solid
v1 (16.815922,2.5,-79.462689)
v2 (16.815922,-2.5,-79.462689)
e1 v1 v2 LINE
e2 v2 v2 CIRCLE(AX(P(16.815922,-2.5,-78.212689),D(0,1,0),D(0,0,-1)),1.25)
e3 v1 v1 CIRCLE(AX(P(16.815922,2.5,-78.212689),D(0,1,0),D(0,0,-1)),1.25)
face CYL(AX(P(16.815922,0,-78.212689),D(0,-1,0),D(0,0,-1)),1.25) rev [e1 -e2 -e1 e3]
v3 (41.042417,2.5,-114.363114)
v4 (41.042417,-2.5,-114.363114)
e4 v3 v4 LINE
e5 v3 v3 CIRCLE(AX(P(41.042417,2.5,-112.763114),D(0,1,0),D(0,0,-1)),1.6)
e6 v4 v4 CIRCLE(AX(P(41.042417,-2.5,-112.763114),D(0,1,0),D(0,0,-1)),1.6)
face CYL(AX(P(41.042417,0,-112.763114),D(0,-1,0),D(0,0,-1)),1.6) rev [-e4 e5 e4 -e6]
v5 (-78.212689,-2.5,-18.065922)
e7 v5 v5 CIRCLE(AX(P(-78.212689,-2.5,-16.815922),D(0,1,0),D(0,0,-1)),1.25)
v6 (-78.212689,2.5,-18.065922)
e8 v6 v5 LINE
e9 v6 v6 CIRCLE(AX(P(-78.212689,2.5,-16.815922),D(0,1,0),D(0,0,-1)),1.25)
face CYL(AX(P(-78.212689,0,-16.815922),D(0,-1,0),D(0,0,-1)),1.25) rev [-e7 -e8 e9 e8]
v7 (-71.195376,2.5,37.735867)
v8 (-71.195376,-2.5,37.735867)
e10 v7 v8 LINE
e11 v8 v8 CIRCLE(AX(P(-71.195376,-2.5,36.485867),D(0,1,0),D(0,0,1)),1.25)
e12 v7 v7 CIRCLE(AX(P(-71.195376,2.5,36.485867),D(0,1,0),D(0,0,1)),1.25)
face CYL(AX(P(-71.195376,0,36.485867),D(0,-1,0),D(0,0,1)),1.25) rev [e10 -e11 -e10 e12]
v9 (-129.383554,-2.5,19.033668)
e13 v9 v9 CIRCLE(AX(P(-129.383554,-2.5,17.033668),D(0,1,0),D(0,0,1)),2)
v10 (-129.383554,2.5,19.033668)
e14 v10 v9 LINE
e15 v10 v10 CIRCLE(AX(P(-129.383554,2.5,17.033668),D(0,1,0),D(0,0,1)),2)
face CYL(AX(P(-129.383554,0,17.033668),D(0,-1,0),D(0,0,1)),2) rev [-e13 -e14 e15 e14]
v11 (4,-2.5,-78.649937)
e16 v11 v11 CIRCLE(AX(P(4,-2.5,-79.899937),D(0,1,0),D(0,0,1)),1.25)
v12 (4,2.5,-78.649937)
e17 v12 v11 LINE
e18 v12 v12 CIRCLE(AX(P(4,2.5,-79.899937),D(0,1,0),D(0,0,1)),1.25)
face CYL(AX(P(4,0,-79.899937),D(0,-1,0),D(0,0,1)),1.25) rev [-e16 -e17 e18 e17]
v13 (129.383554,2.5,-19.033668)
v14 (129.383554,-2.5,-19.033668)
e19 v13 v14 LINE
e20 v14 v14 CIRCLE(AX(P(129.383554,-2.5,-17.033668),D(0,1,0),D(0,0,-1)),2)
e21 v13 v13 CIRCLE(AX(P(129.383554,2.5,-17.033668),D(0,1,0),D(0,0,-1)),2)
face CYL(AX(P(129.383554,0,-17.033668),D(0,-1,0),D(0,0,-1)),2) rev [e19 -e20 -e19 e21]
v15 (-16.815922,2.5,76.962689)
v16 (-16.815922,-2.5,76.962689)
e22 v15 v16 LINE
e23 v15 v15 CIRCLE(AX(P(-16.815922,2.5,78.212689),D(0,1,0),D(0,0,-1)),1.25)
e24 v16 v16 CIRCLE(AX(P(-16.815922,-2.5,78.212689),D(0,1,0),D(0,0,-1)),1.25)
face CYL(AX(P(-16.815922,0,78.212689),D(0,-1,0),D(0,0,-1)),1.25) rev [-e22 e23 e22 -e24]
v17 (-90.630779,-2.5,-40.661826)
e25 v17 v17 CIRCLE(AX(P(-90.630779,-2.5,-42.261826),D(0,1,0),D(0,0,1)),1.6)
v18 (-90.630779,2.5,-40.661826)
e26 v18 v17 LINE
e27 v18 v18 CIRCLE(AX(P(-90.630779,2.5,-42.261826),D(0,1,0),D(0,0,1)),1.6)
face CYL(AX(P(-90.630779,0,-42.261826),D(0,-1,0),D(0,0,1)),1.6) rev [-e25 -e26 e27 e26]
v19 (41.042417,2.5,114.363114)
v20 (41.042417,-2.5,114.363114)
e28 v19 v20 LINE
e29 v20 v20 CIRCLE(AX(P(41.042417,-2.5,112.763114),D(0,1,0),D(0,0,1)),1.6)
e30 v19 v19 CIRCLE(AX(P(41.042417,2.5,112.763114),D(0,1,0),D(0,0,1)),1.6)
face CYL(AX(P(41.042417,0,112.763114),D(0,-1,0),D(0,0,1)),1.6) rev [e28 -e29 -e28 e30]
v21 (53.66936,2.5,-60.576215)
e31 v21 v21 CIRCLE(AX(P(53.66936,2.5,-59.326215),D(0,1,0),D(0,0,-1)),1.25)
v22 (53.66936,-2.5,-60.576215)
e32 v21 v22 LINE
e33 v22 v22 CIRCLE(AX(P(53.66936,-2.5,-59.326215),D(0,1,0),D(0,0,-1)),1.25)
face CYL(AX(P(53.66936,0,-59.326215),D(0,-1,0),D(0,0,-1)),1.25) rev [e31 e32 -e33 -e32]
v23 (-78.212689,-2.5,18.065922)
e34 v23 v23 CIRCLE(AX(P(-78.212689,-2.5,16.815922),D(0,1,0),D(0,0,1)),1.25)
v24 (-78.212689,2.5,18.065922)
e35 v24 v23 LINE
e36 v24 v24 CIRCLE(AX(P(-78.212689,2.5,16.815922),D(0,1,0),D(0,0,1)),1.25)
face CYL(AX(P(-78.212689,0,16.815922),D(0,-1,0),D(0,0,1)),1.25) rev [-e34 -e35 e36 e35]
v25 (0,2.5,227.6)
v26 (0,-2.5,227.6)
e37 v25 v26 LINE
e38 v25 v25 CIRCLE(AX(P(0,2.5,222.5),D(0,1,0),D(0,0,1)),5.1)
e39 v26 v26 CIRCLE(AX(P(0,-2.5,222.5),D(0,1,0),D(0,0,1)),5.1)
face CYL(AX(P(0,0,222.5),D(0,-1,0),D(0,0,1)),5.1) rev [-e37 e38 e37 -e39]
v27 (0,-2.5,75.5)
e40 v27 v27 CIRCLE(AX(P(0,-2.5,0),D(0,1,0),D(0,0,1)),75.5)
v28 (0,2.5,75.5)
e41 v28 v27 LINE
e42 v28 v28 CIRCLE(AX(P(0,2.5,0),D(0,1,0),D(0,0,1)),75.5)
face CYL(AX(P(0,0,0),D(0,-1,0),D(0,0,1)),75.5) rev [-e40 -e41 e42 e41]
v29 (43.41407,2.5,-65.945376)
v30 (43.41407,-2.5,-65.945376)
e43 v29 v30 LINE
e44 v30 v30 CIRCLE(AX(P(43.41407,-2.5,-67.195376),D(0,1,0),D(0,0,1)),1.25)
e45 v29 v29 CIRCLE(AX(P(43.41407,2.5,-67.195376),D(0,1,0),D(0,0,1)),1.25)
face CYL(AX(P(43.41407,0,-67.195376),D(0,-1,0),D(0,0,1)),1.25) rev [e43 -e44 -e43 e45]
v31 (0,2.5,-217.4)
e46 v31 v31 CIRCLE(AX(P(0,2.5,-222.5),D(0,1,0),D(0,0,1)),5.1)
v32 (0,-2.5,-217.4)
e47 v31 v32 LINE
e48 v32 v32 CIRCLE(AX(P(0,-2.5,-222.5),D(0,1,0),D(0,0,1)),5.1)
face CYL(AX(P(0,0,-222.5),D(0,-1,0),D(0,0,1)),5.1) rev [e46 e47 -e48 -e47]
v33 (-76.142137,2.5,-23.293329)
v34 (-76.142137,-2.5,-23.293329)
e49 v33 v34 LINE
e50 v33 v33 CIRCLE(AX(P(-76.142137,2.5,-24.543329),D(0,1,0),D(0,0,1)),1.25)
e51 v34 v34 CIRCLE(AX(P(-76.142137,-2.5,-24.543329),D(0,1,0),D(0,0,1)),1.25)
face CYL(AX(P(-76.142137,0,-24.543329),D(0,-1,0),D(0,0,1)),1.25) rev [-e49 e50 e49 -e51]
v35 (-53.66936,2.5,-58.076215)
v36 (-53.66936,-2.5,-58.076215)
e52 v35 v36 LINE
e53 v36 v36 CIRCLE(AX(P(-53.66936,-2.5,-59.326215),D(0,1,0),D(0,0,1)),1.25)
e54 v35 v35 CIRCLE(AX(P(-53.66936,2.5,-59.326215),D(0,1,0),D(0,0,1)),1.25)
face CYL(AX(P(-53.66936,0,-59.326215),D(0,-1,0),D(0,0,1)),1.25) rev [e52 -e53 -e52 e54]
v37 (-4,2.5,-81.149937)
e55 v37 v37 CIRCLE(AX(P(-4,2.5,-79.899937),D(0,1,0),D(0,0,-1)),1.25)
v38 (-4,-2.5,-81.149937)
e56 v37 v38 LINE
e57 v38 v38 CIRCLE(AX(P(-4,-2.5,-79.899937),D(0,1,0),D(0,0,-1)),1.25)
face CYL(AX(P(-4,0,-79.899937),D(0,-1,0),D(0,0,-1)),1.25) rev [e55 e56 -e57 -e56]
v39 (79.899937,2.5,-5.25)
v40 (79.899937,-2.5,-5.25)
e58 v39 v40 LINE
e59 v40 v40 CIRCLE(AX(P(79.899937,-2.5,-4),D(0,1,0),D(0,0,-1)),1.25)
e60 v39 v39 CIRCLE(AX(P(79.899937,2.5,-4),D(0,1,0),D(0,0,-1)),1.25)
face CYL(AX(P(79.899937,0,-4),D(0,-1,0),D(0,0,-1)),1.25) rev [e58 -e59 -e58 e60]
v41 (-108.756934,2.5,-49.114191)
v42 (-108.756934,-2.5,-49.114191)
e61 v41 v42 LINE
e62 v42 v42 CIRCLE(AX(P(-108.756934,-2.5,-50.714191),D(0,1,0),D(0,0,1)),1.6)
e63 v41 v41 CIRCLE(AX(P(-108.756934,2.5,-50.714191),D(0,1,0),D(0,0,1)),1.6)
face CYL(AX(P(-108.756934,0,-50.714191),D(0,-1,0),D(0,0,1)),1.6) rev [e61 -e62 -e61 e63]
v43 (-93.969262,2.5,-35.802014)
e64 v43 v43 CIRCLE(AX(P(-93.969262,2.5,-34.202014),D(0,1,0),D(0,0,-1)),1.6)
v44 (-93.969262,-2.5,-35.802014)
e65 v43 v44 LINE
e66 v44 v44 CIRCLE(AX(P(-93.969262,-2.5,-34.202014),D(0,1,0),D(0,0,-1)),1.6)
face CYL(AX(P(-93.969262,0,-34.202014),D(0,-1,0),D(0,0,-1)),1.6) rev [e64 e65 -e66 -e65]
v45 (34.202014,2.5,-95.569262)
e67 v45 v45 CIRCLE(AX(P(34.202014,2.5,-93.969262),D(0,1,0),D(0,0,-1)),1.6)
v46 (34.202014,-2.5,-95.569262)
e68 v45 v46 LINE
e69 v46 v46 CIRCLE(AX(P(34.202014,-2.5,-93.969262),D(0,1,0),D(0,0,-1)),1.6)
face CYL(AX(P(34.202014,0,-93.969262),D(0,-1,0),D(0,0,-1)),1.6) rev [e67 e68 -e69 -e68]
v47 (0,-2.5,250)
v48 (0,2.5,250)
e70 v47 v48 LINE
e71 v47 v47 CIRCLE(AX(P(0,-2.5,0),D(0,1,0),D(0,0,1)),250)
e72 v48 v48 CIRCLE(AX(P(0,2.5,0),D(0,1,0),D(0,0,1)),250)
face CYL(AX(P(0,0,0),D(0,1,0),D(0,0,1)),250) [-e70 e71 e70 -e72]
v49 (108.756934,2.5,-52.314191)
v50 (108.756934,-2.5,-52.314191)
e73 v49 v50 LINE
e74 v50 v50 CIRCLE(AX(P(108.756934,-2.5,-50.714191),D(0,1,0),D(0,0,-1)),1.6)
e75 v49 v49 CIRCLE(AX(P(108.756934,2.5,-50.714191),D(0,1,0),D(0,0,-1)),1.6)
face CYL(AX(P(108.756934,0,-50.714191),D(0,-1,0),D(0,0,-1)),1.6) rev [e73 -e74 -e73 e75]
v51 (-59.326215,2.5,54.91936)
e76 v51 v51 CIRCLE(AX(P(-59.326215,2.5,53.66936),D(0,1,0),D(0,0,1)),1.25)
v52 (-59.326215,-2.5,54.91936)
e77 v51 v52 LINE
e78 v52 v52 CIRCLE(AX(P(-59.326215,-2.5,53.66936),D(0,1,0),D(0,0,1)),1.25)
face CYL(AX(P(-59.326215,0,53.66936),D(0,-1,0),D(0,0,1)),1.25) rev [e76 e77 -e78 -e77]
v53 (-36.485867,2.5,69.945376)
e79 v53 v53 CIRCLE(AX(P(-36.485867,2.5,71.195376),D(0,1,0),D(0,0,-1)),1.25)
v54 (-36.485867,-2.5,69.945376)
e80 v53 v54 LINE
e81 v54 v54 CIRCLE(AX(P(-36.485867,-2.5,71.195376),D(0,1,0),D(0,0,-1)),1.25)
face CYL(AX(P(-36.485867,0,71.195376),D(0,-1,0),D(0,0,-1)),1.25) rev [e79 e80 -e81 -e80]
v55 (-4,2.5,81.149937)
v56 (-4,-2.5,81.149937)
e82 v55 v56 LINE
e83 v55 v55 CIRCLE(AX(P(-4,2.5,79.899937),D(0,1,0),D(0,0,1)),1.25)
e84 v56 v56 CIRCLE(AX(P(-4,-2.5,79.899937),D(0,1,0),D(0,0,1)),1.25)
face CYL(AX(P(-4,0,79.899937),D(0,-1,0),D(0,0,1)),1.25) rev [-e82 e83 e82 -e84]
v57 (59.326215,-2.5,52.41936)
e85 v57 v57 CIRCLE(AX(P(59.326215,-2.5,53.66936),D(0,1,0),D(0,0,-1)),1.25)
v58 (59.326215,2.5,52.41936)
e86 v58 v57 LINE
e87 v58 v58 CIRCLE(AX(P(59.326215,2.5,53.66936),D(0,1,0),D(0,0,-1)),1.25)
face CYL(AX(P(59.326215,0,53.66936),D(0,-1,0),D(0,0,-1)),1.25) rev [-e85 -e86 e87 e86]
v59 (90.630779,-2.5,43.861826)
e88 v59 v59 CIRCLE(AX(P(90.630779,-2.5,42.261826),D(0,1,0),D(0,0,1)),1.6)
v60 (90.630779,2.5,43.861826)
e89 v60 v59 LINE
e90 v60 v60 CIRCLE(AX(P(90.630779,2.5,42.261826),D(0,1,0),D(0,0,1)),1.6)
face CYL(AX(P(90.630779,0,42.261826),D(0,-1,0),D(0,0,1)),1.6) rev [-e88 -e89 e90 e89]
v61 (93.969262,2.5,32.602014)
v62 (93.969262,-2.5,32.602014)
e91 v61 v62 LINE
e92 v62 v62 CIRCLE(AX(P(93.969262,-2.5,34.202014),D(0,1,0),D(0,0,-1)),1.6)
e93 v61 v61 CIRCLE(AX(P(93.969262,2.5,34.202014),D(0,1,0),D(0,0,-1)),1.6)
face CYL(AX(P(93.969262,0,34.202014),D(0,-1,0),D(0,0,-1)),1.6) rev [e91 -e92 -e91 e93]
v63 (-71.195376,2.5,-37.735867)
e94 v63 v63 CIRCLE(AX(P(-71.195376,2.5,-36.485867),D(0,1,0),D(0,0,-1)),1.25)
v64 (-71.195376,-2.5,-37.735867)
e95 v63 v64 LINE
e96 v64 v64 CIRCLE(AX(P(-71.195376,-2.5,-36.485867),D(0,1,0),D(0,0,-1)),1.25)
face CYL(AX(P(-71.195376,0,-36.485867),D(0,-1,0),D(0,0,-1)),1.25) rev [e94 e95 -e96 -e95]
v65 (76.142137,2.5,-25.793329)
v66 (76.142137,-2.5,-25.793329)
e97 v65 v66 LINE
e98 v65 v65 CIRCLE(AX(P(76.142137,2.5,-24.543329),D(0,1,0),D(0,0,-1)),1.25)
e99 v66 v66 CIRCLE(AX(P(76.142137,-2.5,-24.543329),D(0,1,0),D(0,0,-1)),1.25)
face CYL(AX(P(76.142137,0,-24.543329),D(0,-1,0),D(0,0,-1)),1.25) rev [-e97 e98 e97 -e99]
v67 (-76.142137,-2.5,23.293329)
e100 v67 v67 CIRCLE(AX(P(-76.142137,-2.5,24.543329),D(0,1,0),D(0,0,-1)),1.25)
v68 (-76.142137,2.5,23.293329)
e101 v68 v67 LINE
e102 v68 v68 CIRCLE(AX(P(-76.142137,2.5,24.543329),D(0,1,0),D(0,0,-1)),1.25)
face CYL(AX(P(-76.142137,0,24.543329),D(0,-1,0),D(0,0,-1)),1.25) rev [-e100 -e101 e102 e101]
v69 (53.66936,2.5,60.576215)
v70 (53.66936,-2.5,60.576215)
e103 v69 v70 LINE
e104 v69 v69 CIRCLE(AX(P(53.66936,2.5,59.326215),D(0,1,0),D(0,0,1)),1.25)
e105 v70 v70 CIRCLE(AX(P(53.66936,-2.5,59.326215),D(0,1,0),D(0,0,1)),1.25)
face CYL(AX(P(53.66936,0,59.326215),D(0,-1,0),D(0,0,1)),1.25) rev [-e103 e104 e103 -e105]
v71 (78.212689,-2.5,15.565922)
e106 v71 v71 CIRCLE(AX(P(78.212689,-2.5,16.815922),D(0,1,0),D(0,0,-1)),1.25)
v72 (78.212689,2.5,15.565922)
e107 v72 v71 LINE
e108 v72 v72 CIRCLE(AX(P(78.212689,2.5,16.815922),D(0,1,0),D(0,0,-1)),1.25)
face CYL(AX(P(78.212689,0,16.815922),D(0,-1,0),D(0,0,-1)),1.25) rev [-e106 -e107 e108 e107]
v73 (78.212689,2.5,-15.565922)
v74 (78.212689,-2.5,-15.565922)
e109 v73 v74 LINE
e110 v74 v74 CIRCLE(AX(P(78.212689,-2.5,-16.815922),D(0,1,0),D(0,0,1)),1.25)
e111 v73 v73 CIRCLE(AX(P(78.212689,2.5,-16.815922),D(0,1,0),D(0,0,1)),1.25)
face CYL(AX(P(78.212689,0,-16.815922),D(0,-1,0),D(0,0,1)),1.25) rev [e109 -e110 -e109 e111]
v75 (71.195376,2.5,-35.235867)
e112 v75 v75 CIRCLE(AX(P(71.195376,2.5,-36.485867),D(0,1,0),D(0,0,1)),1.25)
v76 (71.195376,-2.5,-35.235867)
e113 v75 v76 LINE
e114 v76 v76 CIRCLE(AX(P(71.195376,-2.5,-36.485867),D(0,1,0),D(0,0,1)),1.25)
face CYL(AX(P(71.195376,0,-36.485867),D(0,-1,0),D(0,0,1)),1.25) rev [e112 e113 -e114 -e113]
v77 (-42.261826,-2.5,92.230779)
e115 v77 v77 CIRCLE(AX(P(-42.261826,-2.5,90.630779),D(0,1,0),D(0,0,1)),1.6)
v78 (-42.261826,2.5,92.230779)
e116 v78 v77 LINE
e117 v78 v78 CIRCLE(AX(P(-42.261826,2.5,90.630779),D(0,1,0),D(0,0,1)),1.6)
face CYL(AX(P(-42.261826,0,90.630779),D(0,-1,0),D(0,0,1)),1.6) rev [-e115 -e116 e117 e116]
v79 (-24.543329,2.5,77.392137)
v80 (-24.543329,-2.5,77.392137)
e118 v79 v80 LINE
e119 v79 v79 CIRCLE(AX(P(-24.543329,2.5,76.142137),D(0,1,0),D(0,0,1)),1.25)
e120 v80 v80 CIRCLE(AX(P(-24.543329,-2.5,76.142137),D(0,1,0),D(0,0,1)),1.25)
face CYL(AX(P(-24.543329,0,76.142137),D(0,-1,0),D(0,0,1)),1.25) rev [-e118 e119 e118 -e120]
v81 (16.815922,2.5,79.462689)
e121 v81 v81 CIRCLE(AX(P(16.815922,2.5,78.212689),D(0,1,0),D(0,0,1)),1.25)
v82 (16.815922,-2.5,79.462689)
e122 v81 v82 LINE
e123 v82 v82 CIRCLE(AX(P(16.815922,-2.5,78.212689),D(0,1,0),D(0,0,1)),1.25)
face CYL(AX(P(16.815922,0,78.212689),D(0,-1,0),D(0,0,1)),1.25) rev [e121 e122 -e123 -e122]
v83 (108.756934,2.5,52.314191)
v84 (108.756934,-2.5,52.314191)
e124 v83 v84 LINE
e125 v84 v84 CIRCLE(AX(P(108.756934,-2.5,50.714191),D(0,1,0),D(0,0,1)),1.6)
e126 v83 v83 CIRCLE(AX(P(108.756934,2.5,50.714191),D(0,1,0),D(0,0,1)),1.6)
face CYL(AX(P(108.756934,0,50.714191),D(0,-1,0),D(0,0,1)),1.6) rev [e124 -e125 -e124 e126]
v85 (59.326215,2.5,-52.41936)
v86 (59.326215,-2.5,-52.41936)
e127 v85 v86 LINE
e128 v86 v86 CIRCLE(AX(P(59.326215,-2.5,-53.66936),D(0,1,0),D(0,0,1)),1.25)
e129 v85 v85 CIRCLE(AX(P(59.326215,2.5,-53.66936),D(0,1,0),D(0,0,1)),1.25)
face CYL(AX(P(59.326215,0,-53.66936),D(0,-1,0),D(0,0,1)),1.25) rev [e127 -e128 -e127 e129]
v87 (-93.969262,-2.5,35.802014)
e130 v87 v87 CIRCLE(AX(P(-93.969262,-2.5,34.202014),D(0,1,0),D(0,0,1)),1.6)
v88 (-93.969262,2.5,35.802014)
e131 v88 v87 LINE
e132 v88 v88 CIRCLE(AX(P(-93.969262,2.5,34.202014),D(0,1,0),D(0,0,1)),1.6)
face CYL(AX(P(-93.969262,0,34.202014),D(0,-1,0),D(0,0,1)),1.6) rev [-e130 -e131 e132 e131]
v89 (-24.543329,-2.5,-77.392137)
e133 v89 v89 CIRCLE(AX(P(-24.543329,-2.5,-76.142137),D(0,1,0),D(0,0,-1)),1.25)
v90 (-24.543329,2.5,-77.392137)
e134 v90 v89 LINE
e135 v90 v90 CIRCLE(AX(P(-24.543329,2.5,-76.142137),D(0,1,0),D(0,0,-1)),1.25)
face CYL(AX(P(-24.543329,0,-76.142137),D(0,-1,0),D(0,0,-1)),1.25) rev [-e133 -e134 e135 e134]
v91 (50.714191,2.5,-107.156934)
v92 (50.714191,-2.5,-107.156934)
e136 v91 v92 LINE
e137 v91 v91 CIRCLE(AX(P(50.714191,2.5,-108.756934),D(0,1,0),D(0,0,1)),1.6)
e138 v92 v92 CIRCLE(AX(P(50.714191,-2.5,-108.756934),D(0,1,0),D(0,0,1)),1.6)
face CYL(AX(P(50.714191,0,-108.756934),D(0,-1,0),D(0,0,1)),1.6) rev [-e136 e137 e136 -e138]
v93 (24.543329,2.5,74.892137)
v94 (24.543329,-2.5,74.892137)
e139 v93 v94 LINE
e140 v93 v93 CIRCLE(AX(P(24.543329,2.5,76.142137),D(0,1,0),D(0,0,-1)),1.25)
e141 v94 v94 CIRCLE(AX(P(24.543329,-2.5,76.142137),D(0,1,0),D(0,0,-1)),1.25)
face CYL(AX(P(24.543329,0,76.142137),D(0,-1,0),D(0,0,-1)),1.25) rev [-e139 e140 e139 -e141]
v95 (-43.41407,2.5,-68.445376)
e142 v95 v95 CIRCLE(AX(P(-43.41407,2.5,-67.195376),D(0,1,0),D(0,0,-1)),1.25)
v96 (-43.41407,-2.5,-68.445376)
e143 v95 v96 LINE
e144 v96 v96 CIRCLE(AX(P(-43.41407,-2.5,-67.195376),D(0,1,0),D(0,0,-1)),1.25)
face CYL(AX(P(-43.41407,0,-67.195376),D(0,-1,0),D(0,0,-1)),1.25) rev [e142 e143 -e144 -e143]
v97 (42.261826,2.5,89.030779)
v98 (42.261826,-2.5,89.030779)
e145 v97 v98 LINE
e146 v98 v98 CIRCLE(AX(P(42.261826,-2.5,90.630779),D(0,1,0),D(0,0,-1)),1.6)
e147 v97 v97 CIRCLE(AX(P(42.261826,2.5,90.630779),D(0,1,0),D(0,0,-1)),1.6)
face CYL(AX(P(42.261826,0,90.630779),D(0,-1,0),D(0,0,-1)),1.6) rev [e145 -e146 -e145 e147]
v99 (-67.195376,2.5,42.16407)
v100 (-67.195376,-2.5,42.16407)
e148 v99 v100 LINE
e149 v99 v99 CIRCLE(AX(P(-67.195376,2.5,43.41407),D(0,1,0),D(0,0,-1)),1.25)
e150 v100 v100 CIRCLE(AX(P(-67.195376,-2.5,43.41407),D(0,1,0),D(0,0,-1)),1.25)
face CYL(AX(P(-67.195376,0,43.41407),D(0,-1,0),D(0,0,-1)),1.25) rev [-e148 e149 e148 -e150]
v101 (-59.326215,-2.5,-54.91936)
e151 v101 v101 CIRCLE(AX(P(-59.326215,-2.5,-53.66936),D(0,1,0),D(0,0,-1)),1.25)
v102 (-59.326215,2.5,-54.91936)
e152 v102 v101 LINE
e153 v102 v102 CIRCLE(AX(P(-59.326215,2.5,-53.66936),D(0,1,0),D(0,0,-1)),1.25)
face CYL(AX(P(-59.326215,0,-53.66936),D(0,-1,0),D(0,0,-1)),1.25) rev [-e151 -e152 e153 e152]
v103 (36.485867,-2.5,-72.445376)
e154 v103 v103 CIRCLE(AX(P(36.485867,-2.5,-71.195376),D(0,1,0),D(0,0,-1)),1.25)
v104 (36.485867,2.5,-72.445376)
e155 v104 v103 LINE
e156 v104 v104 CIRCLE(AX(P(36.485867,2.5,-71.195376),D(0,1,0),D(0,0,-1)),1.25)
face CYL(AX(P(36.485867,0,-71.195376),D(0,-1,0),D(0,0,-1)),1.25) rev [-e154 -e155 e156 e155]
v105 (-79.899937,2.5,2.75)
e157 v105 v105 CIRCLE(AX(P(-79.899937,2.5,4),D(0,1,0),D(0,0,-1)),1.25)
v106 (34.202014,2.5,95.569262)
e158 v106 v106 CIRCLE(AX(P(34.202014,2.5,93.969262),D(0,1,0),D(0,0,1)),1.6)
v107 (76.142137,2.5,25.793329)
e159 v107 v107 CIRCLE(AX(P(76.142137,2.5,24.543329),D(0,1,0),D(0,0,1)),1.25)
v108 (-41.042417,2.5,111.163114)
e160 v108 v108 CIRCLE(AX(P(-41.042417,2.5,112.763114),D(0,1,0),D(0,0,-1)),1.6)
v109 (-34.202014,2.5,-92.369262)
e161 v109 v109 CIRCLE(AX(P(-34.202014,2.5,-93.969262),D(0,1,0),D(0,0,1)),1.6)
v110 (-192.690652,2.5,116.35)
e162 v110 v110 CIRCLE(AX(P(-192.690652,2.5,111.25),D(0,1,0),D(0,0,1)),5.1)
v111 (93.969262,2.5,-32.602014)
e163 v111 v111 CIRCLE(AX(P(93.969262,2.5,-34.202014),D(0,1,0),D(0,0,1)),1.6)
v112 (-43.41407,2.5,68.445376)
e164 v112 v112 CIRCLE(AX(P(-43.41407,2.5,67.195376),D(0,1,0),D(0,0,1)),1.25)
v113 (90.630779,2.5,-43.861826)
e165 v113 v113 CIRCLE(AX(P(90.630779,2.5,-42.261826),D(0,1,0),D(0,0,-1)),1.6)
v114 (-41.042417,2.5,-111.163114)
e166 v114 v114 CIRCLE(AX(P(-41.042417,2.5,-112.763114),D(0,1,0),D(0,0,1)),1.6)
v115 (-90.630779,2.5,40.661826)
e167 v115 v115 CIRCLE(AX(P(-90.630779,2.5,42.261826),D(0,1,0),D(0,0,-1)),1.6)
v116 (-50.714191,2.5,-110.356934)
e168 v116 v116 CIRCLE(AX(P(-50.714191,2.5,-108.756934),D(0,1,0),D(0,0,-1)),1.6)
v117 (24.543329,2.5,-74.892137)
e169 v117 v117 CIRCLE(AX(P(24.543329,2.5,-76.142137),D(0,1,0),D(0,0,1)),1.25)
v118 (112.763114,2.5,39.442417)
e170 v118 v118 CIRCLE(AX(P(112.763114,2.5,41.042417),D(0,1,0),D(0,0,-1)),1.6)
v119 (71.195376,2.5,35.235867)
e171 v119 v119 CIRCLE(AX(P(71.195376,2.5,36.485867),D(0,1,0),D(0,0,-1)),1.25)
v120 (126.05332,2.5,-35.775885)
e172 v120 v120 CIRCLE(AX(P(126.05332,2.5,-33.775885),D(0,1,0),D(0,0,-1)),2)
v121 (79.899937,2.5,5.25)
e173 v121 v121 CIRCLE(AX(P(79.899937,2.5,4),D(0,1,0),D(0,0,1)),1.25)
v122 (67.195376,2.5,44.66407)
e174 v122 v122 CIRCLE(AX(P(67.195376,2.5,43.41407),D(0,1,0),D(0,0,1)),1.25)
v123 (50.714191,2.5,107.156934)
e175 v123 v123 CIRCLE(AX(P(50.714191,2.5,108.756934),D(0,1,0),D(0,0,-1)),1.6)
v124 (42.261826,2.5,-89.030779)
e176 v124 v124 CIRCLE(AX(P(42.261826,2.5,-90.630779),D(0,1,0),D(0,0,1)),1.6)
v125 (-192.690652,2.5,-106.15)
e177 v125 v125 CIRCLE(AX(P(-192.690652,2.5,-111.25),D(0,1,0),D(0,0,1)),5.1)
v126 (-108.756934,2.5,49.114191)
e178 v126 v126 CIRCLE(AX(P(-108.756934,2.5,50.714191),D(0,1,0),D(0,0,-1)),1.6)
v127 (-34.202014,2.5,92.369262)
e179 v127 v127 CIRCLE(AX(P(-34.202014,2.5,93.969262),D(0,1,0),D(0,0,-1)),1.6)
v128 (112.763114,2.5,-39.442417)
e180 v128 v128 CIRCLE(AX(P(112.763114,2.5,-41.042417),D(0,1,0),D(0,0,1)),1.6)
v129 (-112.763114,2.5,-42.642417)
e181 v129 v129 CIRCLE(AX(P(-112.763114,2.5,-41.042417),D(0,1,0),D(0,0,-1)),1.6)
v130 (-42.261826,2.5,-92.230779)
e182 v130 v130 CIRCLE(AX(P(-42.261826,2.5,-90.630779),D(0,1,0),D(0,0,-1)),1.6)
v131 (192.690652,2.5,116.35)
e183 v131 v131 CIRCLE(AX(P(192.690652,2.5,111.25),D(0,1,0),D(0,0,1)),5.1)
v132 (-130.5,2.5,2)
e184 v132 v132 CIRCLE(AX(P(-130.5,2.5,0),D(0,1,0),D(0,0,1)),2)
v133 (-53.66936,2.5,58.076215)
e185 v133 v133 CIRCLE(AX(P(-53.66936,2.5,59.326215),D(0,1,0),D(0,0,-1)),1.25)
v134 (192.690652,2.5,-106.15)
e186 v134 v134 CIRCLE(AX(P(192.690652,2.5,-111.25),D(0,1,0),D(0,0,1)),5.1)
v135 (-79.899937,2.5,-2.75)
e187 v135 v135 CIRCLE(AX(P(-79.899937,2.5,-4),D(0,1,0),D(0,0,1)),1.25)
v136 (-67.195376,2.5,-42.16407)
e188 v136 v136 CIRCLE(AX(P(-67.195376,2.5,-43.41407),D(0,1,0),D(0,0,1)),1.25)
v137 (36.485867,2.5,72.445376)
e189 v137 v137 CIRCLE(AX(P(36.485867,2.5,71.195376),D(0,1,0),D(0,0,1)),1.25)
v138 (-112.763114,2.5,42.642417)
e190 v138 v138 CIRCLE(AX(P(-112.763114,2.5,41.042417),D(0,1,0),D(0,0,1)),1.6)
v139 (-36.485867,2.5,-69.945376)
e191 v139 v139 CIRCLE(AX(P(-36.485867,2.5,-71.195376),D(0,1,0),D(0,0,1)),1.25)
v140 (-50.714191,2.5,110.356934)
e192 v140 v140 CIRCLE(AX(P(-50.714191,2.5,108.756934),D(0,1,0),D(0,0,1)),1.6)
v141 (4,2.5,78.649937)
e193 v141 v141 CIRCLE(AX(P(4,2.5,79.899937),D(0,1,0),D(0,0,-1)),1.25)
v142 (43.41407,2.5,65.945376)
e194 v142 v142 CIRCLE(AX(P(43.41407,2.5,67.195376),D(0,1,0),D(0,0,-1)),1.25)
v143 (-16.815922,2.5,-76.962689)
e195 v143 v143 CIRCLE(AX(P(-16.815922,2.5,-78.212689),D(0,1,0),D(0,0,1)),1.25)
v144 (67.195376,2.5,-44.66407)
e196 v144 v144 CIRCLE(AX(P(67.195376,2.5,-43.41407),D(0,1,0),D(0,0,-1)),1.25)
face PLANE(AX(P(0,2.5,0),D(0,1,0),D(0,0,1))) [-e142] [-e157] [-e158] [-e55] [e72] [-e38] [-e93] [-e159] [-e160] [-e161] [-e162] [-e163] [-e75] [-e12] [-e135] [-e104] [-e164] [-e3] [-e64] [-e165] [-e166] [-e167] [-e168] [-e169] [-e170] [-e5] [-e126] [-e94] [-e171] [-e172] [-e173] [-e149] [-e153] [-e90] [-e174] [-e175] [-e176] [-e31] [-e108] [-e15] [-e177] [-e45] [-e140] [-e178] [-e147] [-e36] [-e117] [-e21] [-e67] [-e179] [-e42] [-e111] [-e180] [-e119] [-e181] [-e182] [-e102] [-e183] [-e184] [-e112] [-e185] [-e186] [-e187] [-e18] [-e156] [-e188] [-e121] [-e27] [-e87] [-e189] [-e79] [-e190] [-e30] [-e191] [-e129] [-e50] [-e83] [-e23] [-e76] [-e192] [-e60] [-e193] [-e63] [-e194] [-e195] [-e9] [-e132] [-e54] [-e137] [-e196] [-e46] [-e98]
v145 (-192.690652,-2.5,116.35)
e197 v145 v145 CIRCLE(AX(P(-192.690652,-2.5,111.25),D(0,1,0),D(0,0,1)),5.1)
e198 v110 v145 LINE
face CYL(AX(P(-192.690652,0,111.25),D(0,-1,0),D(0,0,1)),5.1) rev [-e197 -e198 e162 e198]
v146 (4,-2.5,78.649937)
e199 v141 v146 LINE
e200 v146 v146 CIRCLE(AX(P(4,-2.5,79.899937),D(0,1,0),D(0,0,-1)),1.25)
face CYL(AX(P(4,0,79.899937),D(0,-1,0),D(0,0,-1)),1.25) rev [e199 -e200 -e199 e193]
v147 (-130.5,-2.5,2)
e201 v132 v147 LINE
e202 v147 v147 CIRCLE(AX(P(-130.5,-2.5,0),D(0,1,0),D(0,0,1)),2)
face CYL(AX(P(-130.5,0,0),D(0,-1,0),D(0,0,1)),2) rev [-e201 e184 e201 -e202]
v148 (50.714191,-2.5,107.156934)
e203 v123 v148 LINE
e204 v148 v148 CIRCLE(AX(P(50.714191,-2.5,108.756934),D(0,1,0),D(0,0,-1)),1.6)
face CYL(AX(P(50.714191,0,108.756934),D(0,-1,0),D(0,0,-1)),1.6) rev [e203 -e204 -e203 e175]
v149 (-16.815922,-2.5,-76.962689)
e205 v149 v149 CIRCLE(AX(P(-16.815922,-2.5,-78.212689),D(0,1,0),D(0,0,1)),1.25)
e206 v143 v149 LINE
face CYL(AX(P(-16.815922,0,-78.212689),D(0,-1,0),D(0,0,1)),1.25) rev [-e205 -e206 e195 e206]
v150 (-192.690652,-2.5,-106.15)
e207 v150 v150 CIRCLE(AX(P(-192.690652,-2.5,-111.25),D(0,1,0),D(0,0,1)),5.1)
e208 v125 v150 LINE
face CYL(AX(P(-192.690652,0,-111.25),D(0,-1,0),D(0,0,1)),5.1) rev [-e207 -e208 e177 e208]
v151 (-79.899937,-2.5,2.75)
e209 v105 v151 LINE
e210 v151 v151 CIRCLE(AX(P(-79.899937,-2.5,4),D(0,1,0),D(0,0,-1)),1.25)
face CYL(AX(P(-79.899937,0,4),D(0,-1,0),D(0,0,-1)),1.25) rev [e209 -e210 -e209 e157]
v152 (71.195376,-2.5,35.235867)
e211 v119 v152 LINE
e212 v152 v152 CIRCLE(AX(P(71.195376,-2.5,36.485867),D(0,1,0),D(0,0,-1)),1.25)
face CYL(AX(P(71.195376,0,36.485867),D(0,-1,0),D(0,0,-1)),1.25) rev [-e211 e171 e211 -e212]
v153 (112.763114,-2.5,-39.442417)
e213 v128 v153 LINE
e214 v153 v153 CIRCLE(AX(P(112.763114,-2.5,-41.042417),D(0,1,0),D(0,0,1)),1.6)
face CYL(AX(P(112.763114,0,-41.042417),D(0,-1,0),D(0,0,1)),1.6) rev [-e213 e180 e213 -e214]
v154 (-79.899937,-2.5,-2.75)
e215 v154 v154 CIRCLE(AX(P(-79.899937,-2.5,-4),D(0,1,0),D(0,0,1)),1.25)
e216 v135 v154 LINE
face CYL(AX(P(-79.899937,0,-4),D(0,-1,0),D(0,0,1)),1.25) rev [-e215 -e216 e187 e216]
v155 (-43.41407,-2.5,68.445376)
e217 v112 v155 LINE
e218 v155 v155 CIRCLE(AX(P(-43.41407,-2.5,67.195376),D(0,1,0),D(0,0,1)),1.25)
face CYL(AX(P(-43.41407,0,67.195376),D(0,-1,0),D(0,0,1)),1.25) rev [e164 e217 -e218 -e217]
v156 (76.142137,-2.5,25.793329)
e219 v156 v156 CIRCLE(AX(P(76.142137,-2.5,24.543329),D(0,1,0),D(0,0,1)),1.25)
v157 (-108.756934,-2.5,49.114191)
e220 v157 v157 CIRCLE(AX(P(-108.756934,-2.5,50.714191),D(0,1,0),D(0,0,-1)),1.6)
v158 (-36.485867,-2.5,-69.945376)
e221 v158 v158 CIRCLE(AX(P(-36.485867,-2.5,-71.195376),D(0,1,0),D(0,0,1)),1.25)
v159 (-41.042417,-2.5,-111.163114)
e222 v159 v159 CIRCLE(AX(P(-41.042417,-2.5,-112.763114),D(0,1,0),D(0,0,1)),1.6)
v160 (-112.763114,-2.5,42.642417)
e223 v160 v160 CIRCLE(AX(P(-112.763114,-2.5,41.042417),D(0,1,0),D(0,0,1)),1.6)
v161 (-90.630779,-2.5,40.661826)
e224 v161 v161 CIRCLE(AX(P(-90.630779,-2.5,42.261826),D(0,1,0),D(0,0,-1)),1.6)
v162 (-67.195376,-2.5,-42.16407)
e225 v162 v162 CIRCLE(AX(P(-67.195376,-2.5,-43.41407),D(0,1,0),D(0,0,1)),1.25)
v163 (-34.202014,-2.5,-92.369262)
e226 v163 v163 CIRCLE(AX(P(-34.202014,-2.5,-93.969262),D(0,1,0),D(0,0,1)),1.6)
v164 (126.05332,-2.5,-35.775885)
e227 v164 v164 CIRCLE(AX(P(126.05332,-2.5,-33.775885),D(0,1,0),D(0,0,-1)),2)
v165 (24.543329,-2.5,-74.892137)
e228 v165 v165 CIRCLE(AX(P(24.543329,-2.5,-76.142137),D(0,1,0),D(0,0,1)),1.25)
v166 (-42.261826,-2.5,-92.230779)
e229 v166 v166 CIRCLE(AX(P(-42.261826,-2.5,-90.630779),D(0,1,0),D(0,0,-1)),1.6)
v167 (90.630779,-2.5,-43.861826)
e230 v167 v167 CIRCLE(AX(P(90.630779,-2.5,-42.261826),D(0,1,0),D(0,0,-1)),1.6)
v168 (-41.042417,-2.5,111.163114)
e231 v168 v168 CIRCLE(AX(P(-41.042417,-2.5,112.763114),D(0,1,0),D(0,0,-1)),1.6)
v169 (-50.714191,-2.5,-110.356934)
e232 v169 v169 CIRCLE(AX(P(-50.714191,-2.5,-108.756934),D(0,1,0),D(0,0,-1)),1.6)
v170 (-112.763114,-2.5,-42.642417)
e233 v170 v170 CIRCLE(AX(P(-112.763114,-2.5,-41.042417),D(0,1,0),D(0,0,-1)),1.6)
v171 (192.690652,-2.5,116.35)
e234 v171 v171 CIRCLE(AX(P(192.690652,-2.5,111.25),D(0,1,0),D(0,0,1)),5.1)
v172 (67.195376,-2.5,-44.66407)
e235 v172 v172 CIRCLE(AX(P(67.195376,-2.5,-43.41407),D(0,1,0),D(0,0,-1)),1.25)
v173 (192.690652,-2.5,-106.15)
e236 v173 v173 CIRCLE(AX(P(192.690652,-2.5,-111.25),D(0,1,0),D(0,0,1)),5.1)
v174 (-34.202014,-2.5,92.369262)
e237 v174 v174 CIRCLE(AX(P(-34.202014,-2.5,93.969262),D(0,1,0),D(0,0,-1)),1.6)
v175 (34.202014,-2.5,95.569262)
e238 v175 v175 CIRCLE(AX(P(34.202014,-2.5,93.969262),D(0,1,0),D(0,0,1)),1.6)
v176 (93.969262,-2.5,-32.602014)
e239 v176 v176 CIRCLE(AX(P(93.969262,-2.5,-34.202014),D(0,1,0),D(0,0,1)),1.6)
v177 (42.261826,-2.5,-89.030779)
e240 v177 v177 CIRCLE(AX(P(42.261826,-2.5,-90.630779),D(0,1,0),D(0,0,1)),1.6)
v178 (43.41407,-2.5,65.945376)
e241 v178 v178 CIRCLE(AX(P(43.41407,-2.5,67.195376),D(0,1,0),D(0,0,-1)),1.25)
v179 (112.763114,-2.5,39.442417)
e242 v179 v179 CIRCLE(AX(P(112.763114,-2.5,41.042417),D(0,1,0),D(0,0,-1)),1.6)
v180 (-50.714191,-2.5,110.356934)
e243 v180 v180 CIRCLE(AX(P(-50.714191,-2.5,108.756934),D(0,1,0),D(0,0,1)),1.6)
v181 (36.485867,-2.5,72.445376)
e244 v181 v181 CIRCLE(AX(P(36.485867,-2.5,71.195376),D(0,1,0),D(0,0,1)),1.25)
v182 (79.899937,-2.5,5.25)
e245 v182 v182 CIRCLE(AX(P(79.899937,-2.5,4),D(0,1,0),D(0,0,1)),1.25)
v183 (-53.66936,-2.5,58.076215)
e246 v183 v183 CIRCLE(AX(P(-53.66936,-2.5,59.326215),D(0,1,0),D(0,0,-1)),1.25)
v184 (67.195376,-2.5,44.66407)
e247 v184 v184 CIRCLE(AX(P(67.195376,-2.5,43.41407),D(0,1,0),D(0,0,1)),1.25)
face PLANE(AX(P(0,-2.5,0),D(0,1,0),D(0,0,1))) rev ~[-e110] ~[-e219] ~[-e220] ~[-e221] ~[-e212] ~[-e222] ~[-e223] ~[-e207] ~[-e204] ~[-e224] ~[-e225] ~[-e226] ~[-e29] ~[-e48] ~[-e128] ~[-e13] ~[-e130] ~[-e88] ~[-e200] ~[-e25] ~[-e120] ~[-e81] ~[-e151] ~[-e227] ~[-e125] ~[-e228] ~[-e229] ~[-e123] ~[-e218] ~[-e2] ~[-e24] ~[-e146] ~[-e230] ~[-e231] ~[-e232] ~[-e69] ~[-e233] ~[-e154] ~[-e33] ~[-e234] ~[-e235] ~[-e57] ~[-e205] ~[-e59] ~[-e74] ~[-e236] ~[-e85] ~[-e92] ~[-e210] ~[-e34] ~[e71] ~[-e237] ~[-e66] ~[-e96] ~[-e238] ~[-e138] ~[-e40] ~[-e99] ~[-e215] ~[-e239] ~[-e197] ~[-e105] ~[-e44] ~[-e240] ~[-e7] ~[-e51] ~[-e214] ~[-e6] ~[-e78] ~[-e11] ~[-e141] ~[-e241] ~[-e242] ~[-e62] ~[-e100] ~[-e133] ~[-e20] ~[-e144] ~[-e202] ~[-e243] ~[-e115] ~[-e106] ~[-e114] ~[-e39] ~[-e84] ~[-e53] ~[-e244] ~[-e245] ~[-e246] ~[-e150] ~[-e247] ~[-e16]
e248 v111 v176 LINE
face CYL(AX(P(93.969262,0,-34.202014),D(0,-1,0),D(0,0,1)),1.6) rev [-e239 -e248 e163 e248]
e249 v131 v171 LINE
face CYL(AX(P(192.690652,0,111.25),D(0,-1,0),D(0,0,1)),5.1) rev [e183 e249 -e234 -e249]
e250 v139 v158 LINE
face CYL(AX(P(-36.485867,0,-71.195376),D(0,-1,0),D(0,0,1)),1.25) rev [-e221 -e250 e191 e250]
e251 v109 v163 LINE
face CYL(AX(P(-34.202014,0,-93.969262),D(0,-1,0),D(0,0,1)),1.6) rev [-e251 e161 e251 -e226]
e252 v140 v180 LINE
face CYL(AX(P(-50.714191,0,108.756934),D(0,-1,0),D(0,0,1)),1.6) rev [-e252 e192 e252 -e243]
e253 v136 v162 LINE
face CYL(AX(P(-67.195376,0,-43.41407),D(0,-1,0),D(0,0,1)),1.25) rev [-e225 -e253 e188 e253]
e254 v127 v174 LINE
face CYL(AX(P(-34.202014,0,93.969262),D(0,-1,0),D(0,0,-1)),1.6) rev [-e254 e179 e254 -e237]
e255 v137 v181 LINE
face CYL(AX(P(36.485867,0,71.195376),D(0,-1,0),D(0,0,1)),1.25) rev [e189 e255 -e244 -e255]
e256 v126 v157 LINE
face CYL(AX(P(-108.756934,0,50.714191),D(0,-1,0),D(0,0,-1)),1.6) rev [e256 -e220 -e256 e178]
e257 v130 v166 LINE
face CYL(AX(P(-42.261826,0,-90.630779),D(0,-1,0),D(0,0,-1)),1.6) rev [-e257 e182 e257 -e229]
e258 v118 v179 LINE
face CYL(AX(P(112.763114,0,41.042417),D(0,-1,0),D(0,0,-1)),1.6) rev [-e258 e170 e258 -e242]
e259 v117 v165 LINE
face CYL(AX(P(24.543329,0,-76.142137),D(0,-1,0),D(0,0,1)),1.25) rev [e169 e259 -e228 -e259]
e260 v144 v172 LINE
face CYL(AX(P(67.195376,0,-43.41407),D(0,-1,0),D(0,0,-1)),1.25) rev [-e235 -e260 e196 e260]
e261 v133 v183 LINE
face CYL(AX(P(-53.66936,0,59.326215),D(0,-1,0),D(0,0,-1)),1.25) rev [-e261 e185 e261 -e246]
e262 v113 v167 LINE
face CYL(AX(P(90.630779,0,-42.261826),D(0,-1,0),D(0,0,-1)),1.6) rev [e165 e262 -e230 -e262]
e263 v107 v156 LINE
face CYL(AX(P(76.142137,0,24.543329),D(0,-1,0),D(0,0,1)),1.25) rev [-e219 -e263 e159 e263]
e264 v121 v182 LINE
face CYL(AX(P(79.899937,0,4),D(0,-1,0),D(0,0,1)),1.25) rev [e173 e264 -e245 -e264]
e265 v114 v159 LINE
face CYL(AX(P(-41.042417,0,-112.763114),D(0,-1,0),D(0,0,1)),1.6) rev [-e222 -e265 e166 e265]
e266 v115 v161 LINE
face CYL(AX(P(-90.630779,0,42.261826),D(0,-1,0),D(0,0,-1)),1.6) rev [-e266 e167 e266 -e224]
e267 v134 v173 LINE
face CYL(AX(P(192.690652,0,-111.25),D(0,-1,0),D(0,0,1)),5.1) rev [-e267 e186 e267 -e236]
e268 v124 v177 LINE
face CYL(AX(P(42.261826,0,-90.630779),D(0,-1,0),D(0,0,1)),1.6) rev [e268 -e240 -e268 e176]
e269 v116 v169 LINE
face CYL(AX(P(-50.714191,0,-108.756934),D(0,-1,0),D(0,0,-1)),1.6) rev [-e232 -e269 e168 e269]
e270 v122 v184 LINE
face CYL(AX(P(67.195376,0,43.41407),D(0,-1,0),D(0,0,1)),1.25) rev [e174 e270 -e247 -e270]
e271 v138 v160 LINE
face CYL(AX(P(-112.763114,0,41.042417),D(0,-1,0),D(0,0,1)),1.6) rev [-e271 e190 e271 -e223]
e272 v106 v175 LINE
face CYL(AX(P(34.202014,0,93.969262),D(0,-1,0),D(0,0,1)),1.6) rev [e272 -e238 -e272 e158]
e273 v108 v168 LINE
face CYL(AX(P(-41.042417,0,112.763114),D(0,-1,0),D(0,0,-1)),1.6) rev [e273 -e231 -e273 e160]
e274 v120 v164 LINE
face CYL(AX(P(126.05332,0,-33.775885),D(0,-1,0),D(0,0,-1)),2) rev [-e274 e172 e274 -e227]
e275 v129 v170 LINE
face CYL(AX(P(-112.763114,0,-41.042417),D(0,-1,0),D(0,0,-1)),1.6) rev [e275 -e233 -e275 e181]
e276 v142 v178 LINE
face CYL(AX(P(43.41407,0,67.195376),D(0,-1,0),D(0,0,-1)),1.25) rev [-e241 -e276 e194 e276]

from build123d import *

# Parameters (mm, degrees)
SKETCH2_R           = 250
SKETCH2_R_2         = 5.1
SKETCH2_R_3         = 75.5
SKETCH2_R_4         = 1.25
SKETCH2_R_5         = 1.6
SKETCH2_R_6         = 2
BOSS_EXTRUDE1_DEPTH = 2.5


with BuildPart() as part:
    # Sketch2 → Boss-Extrude1 (new, symmetric)
    with BuildSketch(Plane(origin=(0, 0, 0), x_dir=(1, 0, 0), z_dir=(0, 1, 0))):
        with Locations(Location((0, 0, 0), (0, 0, 270))):
            Circle(SKETCH2_R)
        with Locations(Location((0, 222.5, 0), (0, 0, 270))):
            Circle(SKETCH2_R_2, mode=Mode.SUBTRACT)
        with Locations(Location((0, 0, 0), (0, 0, 270))):
            Circle(SKETCH2_R_3, mode=Mode.SUBTRACT)
        with Locations(Location((4, 79.899937422, 0), (0, 0, 270))):
            Circle(SKETCH2_R_4, mode=Mode.SUBTRACT)
        with Locations(Location((-4, 79.899937422, 0), (0, 0, 90))):
            Circle(SKETCH2_R_4, mode=Mode.SUBTRACT)
        with Locations(Location((16.815922202, 78.212689255, 0), (0, 0, 90))):
            Circle(SKETCH2_R_4, mode=Mode.SUBTRACT)
        with Locations(Location((24.543328812, 76.142136894, 0), (0, 0, 270))):
            Circle(SKETCH2_R_4, mode=Mode.SUBTRACT)
        with Locations(Location((36.485867096, 71.195375568, 0), (0, 0, 90))):
            Circle(SKETCH2_R_4, mode=Mode.SUBTRACT)
        with Locations(Location((43.414070326, 67.195375568, 0), (0, 0, 270))):
            Circle(SKETCH2_R_4, mode=Mode.SUBTRACT)
        with Locations(Location((53.669360443, 59.326214692, 0), (0, 0, 90))):
            Circle(SKETCH2_R_4, mode=Mode.SUBTRACT)
        with Locations(Location((59.326214692, 53.669360443, 0), (0, 0, 270))):
            Circle(SKETCH2_R_4, mode=Mode.SUBTRACT)
        with Locations(Location((67.195375568, 43.414070326, 0), (0, 0, 90))):
            Circle(SKETCH2_R_4, mode=Mode.SUBTRACT)
        with Locations(Location((71.195375568, 36.485867096, 0), (0, 0, 270))):
            Circle(SKETCH2_R_4, mode=Mode.SUBTRACT)
        with Locations(Location((76.142136894, 24.543328812, 0), (0, 0, 90))):
            Circle(SKETCH2_R_4, mode=Mode.SUBTRACT)
        with Locations(Location((78.212689255, 16.815922202, 0), (0, 0, 270))):
            Circle(SKETCH2_R_4, mode=Mode.SUBTRACT)
        with Locations(Location((79.899937422, 4, 0), (0, 0, 90))):
            Circle(SKETCH2_R_4, mode=Mode.SUBTRACT)
        with Locations(Location((79.899937422, -4, 0), (0, 0, 270))):
            Circle(SKETCH2_R_4, mode=Mode.SUBTRACT)
        with Locations(Location((78.212689255, -16.815922202, 0), (0, 0, 90))):
            Circle(SKETCH2_R_4, mode=Mode.SUBTRACT)
        with Locations(Location((76.142136894, -24.543328812, 0), (0, 0, 270))):
            Circle(SKETCH2_R_4, mode=Mode.SUBTRACT)
        with Locations(Location((192.690652342, 111.25, 0), (0, 0, 270))):
            Circle(SKETCH2_R_2, mode=Mode.SUBTRACT)
        with Locations(Location((192.690652342, -111.25, 0), (0, 0, 270))):
            Circle(SKETCH2_R_2, mode=Mode.SUBTRACT)
        with Locations(Location((0, -222.5, 0), (0, 0, 270))):
            Circle(SKETCH2_R_2, mode=Mode.SUBTRACT)
        with Locations(Location((-192.690652342, -111.25, 0), (0, 0, 270))):
            Circle(SKETCH2_R_2, mode=Mode.SUBTRACT)
        with Locations(Location((-192.690652342, 111.25, 0), (0, 0, 270))):
            Circle(SKETCH2_R_2, mode=Mode.SUBTRACT)
        with Locations(Location((-41.042417199, 112.763114494, 0), (0, 0, 270))):
            Circle(SKETCH2_R_5, mode=Mode.SUBTRACT)
        with Locations(Location((-34.202014333, 93.969262079, 0), (0, 0, 270))):
            Circle(SKETCH2_R_5, mode=Mode.SUBTRACT)
        with Locations(Location((41.042417199, 112.763114494, 0), (0, 0, 90))):
            Circle(SKETCH2_R_5, mode=Mode.SUBTRACT)
        with Locations(Location((34.202014333, 93.969262079, 0), (0, 0, 90))):
            Circle(SKETCH2_R_5, mode=Mode.SUBTRACT)
        with Locations(Location((90.630778704, 42.261826174, 0), (0, 0, 90))):
            Circle(SKETCH2_R_5, mode=Mode.SUBTRACT)
        with Locations(Location((42.261826174, 90.630778704, 0), (0, 0, 270))):
            Circle(SKETCH2_R_5, mode=Mode.SUBTRACT)
        with Locations(Location((50.714191409, 108.756934444, 0), (0, 0, 270))):
            Circle(SKETCH2_R_5, mode=Mode.SUBTRACT)
        with Locations(Location((108.756934444, 50.714191409, 0), (0, 0, 90))):
            Circle(SKETCH2_R_5, mode=Mode.SUBTRACT)
        with Locations(Location((93.969262079, -34.202014333, 0), (0, 0, 90))):
            Circle(SKETCH2_R_5, mode=Mode.SUBTRACT)
        with Locations(Location((93.969262079, 34.202014333, 0), (0, 0, 270))):
            Circle(SKETCH2_R_5, mode=Mode.SUBTRACT)
        with Locations(Location((112.763114494, 41.042417199, 0), (0, 0, 270))):
            Circle(SKETCH2_R_5, mode=Mode.SUBTRACT)
        with Locations(Location((112.763114494, -41.042417199, 0), (0, 0, 90))):
            Circle(SKETCH2_R_5, mode=Mode.SUBTRACT)
        with Locations(Location((42.261826174, -90.630778704, 0), (0, 0, 90))):
            Circle(SKETCH2_R_5, mode=Mode.SUBTRACT)
        with Locations(Location((90.630778704, -42.261826174, 0), (0, 0, 270))):
            Circle(SKETCH2_R_5, mode=Mode.SUBTRACT)
        with Locations(Location((108.756934444, -50.714191409, 0), (0, 0, 270))):
            Circle(SKETCH2_R_5, mode=Mode.SUBTRACT)
        with Locations(Location((50.714191409, -108.756934444, 0), (0, 0, 90))):
            Circle(SKETCH2_R_5, mode=Mode.SUBTRACT)
        with Locations(Location((-34.202014333, -93.969262079, 0), (0, 0, 90))):
            Circle(SKETCH2_R_5, mode=Mode.SUBTRACT)
        with Locations(Location((34.202014333, -93.969262079, 0), (0, 0, 270))):
            Circle(SKETCH2_R_5, mode=Mode.SUBTRACT)
        with Locations(Location((41.042417199, -112.763114494, 0), (0, 0, 270))):
            Circle(SKETCH2_R_5, mode=Mode.SUBTRACT)
        with Locations(Location((-41.042417199, -112.763114494, 0), (0, 0, 90))):
            Circle(SKETCH2_R_5, mode=Mode.SUBTRACT)
        with Locations(Location((-90.630778704, -42.261826174, 0), (0, 0, 90))):
            Circle(SKETCH2_R_5, mode=Mode.SUBTRACT)
        with Locations(Location((-42.261826174, -90.630778704, 0), (0, 0, 270))):
            Circle(SKETCH2_R_5, mode=Mode.SUBTRACT)
        with Locations(Location((-50.714191409, -108.756934444, 0), (0, 0, 270))):
            Circle(SKETCH2_R_5, mode=Mode.SUBTRACT)
        with Locations(Location((-108.756934444, -50.714191409, 0), (0, 0, 90))):
            Circle(SKETCH2_R_5, mode=Mode.SUBTRACT)
        with Locations(Location((-93.969262079, 34.202014333, 0), (0, 0, 90))):
            Circle(SKETCH2_R_5, mode=Mode.SUBTRACT)
        with Locations(Location((-93.969262079, -34.202014333, 0), (0, 0, 270))):
            Circle(SKETCH2_R_5, mode=Mode.SUBTRACT)
        with Locations(Location((-112.763114494, -41.042417199, 0), (0, 0, 270))):
            Circle(SKETCH2_R_5, mode=Mode.SUBTRACT)
        with Locations(Location((-112.763114494, 41.042417199, 0), (0, 0, 90))):
            Circle(SKETCH2_R_5, mode=Mode.SUBTRACT)
        with Locations(Location((-42.261826174, 90.630778704, 0), (0, 0, 90))):
            Circle(SKETCH2_R_5, mode=Mode.SUBTRACT)
        with Locations(Location((-90.630778704, 42.261826174, 0), (0, 0, 270))):
            Circle(SKETCH2_R_5, mode=Mode.SUBTRACT)
        with Locations(Location((-108.756934444, 50.714191409, 0), (0, 0, 270))):
            Circle(SKETCH2_R_5, mode=Mode.SUBTRACT)
        with Locations(Location((-50.714191409, 108.756934444, 0), (0, 0, 90))):
            Circle(SKETCH2_R_5, mode=Mode.SUBTRACT)
        with Locations(Location((71.195375568, -36.485867096, 0), (0, 0, 90))):
            Circle(SKETCH2_R_4, mode=Mode.SUBTRACT)
        with Locations(Location((67.195375568, -43.414070326, 0), (0, 0, 270))):
            Circle(SKETCH2_R_4, mode=Mode.SUBTRACT)
        with Locations(Location((59.326214692, -53.669360443, 0), (0, 0, 90))):
            Circle(SKETCH2_R_4, mode=Mode.SUBTRACT)
        with Locations(Location((53.669360443, -59.326214692, 0), (0, 0, 270))):
            Circle(SKETCH2_R_4, mode=Mode.SUBTRACT)
        with Locations(Location((43.414070326, -67.195375568, 0), (0, 0, 90))):
            Circle(SKETCH2_R_4, mode=Mode.SUBTRACT)
        with Locations(Location((36.485867096, -71.195375568, 0), (0, 0, 270))):
            Circle(SKETCH2_R_4, mode=Mode.SUBTRACT)
        with Locations(Location((24.543328812, -76.142136894, 0), (0, 0, 90))):
            Circle(SKETCH2_R_4, mode=Mode.SUBTRACT)
        with Locations(Location((16.815922202, -78.212689255, 0), (0, 0, 270))):
            Circle(SKETCH2_R_4, mode=Mode.SUBTRACT)
        with Locations(Location((4, -79.899937422, 0), (0, 0, 90))):
            Circle(SKETCH2_R_4, mode=Mode.SUBTRACT)
        with Locations(Location((-4, -79.899937422, 0), (0, 0, 270))):
            Circle(SKETCH2_R_4, mode=Mode.SUBTRACT)
        with Locations(Location((-16.815922202, -78.212689255, 0), (0, 0, 90))):
            Circle(SKETCH2_R_4, mode=Mode.SUBTRACT)
        with Locations(Location((-24.543328812, -76.142136894, 0), (0, 0, 270))):
            Circle(SKETCH2_R_4, mode=Mode.SUBTRACT)
        with Locations(Location((-36.485867096, -71.195375568, 0), (0, 0, 90))):
            Circle(SKETCH2_R_4, mode=Mode.SUBTRACT)
        with Locations(Location((-43.414070326, -67.195375568, 0), (0, 0, 270))):
            Circle(SKETCH2_R_4, mode=Mode.SUBTRACT)
        with Locations(Location((-53.669360442, -59.326214692, 0), (0, 0, 90))):
            Circle(SKETCH2_R_4, mode=Mode.SUBTRACT)
        with Locations(Location((-59.326214692, -53.669360443, 0), (0, 0, 270))):
            Circle(SKETCH2_R_4, mode=Mode.SUBTRACT)
        with Locations(Location((-67.195375568, -43.414070326, 0), (0, 0, 90))):
            Circle(SKETCH2_R_4, mode=Mode.SUBTRACT)
        with Locations(Location((-71.195375568, -36.485867096, 0), (0, 0, 270))):
            Circle(SKETCH2_R_4, mode=Mode.SUBTRACT)
        with Locations(Location((-76.142136894, -24.543328812, 0), (0, 0, 90))):
            Circle(SKETCH2_R_4, mode=Mode.SUBTRACT)
        with Locations(Location((-78.212689255, -16.815922202, 0), (0, 0, 270))):
            Circle(SKETCH2_R_4, mode=Mode.SUBTRACT)
        with Locations(Location((-79.899937422, -4, 0), (0, 0, 90))):
            Circle(SKETCH2_R_4, mode=Mode.SUBTRACT)
        with Locations(Location((-79.899937422, 4, 0), (0, 0, 270))):
            Circle(SKETCH2_R_4, mode=Mode.SUBTRACT)
        with Locations(Location((-78.212689255, 16.815922202, 0), (0, 0, 90))):
            Circle(SKETCH2_R_4, mode=Mode.SUBTRACT)
        with Locations(Location((-76.142136894, 24.543328812, 0), (0, 0, 270))):
            Circle(SKETCH2_R_4, mode=Mode.SUBTRACT)
        with Locations(Location((-71.195375568, 36.485867096, 0), (0, 0, 90))):
            Circle(SKETCH2_R_4, mode=Mode.SUBTRACT)
        with Locations(Location((-67.195375568, 43.414070326, 0), (0, 0, 270))):
            Circle(SKETCH2_R_4, mode=Mode.SUBTRACT)
        with Locations(Location((-59.326214692, 53.669360443, 0), (0, 0, 90))):
            Circle(SKETCH2_R_4, mode=Mode.SUBTRACT)
        with Locations(Location((-53.669360443, 59.326214692, 0), (0, 0, 270))):
            Circle(SKETCH2_R_4, mode=Mode.SUBTRACT)
        with Locations(Location((-43.414070326, 67.195375568, 0), (0, 0, 90))):
            Circle(SKETCH2_R_4, mode=Mode.SUBTRACT)
        with Locations(Location((-36.485867096, 71.195375568, 0), (0, 0, 270))):
            Circle(SKETCH2_R_4, mode=Mode.SUBTRACT)
        with Locations(Location((-24.543328812, 76.142136894, 0), (0, 0, 90))):
            Circle(SKETCH2_R_4, mode=Mode.SUBTRACT)
        with Locations(Location((-16.815922202, 78.212689255, 0), (0, 0, 270))):
            Circle(SKETCH2_R_4, mode=Mode.SUBTRACT)
        with Locations(Location((-129.383554409, -17.033668085, 0), (0, 0, 270))):
            Circle(SKETCH2_R_6, mode=Mode.SUBTRACT)
        with Locations(Location((-130.5, 0, 0), (0, 0, 270))):
            Circle(SKETCH2_R_6, mode=Mode.SUBTRACT)
        with Locations(Location((129.383554409, 17.033668085, 0), (0, 0, 90))):
            Circle(SKETCH2_R_6, mode=Mode.SUBTRACT)
        with Locations(Location((126.053320331, 33.775885386, 0), (0, 0, 90))):
            Circle(SKETCH2_R_6, mode=Mode.SUBTRACT)
    extrude(amount=BOSS_EXTRUDE1_DEPTH, both=True)


solid = part.part
